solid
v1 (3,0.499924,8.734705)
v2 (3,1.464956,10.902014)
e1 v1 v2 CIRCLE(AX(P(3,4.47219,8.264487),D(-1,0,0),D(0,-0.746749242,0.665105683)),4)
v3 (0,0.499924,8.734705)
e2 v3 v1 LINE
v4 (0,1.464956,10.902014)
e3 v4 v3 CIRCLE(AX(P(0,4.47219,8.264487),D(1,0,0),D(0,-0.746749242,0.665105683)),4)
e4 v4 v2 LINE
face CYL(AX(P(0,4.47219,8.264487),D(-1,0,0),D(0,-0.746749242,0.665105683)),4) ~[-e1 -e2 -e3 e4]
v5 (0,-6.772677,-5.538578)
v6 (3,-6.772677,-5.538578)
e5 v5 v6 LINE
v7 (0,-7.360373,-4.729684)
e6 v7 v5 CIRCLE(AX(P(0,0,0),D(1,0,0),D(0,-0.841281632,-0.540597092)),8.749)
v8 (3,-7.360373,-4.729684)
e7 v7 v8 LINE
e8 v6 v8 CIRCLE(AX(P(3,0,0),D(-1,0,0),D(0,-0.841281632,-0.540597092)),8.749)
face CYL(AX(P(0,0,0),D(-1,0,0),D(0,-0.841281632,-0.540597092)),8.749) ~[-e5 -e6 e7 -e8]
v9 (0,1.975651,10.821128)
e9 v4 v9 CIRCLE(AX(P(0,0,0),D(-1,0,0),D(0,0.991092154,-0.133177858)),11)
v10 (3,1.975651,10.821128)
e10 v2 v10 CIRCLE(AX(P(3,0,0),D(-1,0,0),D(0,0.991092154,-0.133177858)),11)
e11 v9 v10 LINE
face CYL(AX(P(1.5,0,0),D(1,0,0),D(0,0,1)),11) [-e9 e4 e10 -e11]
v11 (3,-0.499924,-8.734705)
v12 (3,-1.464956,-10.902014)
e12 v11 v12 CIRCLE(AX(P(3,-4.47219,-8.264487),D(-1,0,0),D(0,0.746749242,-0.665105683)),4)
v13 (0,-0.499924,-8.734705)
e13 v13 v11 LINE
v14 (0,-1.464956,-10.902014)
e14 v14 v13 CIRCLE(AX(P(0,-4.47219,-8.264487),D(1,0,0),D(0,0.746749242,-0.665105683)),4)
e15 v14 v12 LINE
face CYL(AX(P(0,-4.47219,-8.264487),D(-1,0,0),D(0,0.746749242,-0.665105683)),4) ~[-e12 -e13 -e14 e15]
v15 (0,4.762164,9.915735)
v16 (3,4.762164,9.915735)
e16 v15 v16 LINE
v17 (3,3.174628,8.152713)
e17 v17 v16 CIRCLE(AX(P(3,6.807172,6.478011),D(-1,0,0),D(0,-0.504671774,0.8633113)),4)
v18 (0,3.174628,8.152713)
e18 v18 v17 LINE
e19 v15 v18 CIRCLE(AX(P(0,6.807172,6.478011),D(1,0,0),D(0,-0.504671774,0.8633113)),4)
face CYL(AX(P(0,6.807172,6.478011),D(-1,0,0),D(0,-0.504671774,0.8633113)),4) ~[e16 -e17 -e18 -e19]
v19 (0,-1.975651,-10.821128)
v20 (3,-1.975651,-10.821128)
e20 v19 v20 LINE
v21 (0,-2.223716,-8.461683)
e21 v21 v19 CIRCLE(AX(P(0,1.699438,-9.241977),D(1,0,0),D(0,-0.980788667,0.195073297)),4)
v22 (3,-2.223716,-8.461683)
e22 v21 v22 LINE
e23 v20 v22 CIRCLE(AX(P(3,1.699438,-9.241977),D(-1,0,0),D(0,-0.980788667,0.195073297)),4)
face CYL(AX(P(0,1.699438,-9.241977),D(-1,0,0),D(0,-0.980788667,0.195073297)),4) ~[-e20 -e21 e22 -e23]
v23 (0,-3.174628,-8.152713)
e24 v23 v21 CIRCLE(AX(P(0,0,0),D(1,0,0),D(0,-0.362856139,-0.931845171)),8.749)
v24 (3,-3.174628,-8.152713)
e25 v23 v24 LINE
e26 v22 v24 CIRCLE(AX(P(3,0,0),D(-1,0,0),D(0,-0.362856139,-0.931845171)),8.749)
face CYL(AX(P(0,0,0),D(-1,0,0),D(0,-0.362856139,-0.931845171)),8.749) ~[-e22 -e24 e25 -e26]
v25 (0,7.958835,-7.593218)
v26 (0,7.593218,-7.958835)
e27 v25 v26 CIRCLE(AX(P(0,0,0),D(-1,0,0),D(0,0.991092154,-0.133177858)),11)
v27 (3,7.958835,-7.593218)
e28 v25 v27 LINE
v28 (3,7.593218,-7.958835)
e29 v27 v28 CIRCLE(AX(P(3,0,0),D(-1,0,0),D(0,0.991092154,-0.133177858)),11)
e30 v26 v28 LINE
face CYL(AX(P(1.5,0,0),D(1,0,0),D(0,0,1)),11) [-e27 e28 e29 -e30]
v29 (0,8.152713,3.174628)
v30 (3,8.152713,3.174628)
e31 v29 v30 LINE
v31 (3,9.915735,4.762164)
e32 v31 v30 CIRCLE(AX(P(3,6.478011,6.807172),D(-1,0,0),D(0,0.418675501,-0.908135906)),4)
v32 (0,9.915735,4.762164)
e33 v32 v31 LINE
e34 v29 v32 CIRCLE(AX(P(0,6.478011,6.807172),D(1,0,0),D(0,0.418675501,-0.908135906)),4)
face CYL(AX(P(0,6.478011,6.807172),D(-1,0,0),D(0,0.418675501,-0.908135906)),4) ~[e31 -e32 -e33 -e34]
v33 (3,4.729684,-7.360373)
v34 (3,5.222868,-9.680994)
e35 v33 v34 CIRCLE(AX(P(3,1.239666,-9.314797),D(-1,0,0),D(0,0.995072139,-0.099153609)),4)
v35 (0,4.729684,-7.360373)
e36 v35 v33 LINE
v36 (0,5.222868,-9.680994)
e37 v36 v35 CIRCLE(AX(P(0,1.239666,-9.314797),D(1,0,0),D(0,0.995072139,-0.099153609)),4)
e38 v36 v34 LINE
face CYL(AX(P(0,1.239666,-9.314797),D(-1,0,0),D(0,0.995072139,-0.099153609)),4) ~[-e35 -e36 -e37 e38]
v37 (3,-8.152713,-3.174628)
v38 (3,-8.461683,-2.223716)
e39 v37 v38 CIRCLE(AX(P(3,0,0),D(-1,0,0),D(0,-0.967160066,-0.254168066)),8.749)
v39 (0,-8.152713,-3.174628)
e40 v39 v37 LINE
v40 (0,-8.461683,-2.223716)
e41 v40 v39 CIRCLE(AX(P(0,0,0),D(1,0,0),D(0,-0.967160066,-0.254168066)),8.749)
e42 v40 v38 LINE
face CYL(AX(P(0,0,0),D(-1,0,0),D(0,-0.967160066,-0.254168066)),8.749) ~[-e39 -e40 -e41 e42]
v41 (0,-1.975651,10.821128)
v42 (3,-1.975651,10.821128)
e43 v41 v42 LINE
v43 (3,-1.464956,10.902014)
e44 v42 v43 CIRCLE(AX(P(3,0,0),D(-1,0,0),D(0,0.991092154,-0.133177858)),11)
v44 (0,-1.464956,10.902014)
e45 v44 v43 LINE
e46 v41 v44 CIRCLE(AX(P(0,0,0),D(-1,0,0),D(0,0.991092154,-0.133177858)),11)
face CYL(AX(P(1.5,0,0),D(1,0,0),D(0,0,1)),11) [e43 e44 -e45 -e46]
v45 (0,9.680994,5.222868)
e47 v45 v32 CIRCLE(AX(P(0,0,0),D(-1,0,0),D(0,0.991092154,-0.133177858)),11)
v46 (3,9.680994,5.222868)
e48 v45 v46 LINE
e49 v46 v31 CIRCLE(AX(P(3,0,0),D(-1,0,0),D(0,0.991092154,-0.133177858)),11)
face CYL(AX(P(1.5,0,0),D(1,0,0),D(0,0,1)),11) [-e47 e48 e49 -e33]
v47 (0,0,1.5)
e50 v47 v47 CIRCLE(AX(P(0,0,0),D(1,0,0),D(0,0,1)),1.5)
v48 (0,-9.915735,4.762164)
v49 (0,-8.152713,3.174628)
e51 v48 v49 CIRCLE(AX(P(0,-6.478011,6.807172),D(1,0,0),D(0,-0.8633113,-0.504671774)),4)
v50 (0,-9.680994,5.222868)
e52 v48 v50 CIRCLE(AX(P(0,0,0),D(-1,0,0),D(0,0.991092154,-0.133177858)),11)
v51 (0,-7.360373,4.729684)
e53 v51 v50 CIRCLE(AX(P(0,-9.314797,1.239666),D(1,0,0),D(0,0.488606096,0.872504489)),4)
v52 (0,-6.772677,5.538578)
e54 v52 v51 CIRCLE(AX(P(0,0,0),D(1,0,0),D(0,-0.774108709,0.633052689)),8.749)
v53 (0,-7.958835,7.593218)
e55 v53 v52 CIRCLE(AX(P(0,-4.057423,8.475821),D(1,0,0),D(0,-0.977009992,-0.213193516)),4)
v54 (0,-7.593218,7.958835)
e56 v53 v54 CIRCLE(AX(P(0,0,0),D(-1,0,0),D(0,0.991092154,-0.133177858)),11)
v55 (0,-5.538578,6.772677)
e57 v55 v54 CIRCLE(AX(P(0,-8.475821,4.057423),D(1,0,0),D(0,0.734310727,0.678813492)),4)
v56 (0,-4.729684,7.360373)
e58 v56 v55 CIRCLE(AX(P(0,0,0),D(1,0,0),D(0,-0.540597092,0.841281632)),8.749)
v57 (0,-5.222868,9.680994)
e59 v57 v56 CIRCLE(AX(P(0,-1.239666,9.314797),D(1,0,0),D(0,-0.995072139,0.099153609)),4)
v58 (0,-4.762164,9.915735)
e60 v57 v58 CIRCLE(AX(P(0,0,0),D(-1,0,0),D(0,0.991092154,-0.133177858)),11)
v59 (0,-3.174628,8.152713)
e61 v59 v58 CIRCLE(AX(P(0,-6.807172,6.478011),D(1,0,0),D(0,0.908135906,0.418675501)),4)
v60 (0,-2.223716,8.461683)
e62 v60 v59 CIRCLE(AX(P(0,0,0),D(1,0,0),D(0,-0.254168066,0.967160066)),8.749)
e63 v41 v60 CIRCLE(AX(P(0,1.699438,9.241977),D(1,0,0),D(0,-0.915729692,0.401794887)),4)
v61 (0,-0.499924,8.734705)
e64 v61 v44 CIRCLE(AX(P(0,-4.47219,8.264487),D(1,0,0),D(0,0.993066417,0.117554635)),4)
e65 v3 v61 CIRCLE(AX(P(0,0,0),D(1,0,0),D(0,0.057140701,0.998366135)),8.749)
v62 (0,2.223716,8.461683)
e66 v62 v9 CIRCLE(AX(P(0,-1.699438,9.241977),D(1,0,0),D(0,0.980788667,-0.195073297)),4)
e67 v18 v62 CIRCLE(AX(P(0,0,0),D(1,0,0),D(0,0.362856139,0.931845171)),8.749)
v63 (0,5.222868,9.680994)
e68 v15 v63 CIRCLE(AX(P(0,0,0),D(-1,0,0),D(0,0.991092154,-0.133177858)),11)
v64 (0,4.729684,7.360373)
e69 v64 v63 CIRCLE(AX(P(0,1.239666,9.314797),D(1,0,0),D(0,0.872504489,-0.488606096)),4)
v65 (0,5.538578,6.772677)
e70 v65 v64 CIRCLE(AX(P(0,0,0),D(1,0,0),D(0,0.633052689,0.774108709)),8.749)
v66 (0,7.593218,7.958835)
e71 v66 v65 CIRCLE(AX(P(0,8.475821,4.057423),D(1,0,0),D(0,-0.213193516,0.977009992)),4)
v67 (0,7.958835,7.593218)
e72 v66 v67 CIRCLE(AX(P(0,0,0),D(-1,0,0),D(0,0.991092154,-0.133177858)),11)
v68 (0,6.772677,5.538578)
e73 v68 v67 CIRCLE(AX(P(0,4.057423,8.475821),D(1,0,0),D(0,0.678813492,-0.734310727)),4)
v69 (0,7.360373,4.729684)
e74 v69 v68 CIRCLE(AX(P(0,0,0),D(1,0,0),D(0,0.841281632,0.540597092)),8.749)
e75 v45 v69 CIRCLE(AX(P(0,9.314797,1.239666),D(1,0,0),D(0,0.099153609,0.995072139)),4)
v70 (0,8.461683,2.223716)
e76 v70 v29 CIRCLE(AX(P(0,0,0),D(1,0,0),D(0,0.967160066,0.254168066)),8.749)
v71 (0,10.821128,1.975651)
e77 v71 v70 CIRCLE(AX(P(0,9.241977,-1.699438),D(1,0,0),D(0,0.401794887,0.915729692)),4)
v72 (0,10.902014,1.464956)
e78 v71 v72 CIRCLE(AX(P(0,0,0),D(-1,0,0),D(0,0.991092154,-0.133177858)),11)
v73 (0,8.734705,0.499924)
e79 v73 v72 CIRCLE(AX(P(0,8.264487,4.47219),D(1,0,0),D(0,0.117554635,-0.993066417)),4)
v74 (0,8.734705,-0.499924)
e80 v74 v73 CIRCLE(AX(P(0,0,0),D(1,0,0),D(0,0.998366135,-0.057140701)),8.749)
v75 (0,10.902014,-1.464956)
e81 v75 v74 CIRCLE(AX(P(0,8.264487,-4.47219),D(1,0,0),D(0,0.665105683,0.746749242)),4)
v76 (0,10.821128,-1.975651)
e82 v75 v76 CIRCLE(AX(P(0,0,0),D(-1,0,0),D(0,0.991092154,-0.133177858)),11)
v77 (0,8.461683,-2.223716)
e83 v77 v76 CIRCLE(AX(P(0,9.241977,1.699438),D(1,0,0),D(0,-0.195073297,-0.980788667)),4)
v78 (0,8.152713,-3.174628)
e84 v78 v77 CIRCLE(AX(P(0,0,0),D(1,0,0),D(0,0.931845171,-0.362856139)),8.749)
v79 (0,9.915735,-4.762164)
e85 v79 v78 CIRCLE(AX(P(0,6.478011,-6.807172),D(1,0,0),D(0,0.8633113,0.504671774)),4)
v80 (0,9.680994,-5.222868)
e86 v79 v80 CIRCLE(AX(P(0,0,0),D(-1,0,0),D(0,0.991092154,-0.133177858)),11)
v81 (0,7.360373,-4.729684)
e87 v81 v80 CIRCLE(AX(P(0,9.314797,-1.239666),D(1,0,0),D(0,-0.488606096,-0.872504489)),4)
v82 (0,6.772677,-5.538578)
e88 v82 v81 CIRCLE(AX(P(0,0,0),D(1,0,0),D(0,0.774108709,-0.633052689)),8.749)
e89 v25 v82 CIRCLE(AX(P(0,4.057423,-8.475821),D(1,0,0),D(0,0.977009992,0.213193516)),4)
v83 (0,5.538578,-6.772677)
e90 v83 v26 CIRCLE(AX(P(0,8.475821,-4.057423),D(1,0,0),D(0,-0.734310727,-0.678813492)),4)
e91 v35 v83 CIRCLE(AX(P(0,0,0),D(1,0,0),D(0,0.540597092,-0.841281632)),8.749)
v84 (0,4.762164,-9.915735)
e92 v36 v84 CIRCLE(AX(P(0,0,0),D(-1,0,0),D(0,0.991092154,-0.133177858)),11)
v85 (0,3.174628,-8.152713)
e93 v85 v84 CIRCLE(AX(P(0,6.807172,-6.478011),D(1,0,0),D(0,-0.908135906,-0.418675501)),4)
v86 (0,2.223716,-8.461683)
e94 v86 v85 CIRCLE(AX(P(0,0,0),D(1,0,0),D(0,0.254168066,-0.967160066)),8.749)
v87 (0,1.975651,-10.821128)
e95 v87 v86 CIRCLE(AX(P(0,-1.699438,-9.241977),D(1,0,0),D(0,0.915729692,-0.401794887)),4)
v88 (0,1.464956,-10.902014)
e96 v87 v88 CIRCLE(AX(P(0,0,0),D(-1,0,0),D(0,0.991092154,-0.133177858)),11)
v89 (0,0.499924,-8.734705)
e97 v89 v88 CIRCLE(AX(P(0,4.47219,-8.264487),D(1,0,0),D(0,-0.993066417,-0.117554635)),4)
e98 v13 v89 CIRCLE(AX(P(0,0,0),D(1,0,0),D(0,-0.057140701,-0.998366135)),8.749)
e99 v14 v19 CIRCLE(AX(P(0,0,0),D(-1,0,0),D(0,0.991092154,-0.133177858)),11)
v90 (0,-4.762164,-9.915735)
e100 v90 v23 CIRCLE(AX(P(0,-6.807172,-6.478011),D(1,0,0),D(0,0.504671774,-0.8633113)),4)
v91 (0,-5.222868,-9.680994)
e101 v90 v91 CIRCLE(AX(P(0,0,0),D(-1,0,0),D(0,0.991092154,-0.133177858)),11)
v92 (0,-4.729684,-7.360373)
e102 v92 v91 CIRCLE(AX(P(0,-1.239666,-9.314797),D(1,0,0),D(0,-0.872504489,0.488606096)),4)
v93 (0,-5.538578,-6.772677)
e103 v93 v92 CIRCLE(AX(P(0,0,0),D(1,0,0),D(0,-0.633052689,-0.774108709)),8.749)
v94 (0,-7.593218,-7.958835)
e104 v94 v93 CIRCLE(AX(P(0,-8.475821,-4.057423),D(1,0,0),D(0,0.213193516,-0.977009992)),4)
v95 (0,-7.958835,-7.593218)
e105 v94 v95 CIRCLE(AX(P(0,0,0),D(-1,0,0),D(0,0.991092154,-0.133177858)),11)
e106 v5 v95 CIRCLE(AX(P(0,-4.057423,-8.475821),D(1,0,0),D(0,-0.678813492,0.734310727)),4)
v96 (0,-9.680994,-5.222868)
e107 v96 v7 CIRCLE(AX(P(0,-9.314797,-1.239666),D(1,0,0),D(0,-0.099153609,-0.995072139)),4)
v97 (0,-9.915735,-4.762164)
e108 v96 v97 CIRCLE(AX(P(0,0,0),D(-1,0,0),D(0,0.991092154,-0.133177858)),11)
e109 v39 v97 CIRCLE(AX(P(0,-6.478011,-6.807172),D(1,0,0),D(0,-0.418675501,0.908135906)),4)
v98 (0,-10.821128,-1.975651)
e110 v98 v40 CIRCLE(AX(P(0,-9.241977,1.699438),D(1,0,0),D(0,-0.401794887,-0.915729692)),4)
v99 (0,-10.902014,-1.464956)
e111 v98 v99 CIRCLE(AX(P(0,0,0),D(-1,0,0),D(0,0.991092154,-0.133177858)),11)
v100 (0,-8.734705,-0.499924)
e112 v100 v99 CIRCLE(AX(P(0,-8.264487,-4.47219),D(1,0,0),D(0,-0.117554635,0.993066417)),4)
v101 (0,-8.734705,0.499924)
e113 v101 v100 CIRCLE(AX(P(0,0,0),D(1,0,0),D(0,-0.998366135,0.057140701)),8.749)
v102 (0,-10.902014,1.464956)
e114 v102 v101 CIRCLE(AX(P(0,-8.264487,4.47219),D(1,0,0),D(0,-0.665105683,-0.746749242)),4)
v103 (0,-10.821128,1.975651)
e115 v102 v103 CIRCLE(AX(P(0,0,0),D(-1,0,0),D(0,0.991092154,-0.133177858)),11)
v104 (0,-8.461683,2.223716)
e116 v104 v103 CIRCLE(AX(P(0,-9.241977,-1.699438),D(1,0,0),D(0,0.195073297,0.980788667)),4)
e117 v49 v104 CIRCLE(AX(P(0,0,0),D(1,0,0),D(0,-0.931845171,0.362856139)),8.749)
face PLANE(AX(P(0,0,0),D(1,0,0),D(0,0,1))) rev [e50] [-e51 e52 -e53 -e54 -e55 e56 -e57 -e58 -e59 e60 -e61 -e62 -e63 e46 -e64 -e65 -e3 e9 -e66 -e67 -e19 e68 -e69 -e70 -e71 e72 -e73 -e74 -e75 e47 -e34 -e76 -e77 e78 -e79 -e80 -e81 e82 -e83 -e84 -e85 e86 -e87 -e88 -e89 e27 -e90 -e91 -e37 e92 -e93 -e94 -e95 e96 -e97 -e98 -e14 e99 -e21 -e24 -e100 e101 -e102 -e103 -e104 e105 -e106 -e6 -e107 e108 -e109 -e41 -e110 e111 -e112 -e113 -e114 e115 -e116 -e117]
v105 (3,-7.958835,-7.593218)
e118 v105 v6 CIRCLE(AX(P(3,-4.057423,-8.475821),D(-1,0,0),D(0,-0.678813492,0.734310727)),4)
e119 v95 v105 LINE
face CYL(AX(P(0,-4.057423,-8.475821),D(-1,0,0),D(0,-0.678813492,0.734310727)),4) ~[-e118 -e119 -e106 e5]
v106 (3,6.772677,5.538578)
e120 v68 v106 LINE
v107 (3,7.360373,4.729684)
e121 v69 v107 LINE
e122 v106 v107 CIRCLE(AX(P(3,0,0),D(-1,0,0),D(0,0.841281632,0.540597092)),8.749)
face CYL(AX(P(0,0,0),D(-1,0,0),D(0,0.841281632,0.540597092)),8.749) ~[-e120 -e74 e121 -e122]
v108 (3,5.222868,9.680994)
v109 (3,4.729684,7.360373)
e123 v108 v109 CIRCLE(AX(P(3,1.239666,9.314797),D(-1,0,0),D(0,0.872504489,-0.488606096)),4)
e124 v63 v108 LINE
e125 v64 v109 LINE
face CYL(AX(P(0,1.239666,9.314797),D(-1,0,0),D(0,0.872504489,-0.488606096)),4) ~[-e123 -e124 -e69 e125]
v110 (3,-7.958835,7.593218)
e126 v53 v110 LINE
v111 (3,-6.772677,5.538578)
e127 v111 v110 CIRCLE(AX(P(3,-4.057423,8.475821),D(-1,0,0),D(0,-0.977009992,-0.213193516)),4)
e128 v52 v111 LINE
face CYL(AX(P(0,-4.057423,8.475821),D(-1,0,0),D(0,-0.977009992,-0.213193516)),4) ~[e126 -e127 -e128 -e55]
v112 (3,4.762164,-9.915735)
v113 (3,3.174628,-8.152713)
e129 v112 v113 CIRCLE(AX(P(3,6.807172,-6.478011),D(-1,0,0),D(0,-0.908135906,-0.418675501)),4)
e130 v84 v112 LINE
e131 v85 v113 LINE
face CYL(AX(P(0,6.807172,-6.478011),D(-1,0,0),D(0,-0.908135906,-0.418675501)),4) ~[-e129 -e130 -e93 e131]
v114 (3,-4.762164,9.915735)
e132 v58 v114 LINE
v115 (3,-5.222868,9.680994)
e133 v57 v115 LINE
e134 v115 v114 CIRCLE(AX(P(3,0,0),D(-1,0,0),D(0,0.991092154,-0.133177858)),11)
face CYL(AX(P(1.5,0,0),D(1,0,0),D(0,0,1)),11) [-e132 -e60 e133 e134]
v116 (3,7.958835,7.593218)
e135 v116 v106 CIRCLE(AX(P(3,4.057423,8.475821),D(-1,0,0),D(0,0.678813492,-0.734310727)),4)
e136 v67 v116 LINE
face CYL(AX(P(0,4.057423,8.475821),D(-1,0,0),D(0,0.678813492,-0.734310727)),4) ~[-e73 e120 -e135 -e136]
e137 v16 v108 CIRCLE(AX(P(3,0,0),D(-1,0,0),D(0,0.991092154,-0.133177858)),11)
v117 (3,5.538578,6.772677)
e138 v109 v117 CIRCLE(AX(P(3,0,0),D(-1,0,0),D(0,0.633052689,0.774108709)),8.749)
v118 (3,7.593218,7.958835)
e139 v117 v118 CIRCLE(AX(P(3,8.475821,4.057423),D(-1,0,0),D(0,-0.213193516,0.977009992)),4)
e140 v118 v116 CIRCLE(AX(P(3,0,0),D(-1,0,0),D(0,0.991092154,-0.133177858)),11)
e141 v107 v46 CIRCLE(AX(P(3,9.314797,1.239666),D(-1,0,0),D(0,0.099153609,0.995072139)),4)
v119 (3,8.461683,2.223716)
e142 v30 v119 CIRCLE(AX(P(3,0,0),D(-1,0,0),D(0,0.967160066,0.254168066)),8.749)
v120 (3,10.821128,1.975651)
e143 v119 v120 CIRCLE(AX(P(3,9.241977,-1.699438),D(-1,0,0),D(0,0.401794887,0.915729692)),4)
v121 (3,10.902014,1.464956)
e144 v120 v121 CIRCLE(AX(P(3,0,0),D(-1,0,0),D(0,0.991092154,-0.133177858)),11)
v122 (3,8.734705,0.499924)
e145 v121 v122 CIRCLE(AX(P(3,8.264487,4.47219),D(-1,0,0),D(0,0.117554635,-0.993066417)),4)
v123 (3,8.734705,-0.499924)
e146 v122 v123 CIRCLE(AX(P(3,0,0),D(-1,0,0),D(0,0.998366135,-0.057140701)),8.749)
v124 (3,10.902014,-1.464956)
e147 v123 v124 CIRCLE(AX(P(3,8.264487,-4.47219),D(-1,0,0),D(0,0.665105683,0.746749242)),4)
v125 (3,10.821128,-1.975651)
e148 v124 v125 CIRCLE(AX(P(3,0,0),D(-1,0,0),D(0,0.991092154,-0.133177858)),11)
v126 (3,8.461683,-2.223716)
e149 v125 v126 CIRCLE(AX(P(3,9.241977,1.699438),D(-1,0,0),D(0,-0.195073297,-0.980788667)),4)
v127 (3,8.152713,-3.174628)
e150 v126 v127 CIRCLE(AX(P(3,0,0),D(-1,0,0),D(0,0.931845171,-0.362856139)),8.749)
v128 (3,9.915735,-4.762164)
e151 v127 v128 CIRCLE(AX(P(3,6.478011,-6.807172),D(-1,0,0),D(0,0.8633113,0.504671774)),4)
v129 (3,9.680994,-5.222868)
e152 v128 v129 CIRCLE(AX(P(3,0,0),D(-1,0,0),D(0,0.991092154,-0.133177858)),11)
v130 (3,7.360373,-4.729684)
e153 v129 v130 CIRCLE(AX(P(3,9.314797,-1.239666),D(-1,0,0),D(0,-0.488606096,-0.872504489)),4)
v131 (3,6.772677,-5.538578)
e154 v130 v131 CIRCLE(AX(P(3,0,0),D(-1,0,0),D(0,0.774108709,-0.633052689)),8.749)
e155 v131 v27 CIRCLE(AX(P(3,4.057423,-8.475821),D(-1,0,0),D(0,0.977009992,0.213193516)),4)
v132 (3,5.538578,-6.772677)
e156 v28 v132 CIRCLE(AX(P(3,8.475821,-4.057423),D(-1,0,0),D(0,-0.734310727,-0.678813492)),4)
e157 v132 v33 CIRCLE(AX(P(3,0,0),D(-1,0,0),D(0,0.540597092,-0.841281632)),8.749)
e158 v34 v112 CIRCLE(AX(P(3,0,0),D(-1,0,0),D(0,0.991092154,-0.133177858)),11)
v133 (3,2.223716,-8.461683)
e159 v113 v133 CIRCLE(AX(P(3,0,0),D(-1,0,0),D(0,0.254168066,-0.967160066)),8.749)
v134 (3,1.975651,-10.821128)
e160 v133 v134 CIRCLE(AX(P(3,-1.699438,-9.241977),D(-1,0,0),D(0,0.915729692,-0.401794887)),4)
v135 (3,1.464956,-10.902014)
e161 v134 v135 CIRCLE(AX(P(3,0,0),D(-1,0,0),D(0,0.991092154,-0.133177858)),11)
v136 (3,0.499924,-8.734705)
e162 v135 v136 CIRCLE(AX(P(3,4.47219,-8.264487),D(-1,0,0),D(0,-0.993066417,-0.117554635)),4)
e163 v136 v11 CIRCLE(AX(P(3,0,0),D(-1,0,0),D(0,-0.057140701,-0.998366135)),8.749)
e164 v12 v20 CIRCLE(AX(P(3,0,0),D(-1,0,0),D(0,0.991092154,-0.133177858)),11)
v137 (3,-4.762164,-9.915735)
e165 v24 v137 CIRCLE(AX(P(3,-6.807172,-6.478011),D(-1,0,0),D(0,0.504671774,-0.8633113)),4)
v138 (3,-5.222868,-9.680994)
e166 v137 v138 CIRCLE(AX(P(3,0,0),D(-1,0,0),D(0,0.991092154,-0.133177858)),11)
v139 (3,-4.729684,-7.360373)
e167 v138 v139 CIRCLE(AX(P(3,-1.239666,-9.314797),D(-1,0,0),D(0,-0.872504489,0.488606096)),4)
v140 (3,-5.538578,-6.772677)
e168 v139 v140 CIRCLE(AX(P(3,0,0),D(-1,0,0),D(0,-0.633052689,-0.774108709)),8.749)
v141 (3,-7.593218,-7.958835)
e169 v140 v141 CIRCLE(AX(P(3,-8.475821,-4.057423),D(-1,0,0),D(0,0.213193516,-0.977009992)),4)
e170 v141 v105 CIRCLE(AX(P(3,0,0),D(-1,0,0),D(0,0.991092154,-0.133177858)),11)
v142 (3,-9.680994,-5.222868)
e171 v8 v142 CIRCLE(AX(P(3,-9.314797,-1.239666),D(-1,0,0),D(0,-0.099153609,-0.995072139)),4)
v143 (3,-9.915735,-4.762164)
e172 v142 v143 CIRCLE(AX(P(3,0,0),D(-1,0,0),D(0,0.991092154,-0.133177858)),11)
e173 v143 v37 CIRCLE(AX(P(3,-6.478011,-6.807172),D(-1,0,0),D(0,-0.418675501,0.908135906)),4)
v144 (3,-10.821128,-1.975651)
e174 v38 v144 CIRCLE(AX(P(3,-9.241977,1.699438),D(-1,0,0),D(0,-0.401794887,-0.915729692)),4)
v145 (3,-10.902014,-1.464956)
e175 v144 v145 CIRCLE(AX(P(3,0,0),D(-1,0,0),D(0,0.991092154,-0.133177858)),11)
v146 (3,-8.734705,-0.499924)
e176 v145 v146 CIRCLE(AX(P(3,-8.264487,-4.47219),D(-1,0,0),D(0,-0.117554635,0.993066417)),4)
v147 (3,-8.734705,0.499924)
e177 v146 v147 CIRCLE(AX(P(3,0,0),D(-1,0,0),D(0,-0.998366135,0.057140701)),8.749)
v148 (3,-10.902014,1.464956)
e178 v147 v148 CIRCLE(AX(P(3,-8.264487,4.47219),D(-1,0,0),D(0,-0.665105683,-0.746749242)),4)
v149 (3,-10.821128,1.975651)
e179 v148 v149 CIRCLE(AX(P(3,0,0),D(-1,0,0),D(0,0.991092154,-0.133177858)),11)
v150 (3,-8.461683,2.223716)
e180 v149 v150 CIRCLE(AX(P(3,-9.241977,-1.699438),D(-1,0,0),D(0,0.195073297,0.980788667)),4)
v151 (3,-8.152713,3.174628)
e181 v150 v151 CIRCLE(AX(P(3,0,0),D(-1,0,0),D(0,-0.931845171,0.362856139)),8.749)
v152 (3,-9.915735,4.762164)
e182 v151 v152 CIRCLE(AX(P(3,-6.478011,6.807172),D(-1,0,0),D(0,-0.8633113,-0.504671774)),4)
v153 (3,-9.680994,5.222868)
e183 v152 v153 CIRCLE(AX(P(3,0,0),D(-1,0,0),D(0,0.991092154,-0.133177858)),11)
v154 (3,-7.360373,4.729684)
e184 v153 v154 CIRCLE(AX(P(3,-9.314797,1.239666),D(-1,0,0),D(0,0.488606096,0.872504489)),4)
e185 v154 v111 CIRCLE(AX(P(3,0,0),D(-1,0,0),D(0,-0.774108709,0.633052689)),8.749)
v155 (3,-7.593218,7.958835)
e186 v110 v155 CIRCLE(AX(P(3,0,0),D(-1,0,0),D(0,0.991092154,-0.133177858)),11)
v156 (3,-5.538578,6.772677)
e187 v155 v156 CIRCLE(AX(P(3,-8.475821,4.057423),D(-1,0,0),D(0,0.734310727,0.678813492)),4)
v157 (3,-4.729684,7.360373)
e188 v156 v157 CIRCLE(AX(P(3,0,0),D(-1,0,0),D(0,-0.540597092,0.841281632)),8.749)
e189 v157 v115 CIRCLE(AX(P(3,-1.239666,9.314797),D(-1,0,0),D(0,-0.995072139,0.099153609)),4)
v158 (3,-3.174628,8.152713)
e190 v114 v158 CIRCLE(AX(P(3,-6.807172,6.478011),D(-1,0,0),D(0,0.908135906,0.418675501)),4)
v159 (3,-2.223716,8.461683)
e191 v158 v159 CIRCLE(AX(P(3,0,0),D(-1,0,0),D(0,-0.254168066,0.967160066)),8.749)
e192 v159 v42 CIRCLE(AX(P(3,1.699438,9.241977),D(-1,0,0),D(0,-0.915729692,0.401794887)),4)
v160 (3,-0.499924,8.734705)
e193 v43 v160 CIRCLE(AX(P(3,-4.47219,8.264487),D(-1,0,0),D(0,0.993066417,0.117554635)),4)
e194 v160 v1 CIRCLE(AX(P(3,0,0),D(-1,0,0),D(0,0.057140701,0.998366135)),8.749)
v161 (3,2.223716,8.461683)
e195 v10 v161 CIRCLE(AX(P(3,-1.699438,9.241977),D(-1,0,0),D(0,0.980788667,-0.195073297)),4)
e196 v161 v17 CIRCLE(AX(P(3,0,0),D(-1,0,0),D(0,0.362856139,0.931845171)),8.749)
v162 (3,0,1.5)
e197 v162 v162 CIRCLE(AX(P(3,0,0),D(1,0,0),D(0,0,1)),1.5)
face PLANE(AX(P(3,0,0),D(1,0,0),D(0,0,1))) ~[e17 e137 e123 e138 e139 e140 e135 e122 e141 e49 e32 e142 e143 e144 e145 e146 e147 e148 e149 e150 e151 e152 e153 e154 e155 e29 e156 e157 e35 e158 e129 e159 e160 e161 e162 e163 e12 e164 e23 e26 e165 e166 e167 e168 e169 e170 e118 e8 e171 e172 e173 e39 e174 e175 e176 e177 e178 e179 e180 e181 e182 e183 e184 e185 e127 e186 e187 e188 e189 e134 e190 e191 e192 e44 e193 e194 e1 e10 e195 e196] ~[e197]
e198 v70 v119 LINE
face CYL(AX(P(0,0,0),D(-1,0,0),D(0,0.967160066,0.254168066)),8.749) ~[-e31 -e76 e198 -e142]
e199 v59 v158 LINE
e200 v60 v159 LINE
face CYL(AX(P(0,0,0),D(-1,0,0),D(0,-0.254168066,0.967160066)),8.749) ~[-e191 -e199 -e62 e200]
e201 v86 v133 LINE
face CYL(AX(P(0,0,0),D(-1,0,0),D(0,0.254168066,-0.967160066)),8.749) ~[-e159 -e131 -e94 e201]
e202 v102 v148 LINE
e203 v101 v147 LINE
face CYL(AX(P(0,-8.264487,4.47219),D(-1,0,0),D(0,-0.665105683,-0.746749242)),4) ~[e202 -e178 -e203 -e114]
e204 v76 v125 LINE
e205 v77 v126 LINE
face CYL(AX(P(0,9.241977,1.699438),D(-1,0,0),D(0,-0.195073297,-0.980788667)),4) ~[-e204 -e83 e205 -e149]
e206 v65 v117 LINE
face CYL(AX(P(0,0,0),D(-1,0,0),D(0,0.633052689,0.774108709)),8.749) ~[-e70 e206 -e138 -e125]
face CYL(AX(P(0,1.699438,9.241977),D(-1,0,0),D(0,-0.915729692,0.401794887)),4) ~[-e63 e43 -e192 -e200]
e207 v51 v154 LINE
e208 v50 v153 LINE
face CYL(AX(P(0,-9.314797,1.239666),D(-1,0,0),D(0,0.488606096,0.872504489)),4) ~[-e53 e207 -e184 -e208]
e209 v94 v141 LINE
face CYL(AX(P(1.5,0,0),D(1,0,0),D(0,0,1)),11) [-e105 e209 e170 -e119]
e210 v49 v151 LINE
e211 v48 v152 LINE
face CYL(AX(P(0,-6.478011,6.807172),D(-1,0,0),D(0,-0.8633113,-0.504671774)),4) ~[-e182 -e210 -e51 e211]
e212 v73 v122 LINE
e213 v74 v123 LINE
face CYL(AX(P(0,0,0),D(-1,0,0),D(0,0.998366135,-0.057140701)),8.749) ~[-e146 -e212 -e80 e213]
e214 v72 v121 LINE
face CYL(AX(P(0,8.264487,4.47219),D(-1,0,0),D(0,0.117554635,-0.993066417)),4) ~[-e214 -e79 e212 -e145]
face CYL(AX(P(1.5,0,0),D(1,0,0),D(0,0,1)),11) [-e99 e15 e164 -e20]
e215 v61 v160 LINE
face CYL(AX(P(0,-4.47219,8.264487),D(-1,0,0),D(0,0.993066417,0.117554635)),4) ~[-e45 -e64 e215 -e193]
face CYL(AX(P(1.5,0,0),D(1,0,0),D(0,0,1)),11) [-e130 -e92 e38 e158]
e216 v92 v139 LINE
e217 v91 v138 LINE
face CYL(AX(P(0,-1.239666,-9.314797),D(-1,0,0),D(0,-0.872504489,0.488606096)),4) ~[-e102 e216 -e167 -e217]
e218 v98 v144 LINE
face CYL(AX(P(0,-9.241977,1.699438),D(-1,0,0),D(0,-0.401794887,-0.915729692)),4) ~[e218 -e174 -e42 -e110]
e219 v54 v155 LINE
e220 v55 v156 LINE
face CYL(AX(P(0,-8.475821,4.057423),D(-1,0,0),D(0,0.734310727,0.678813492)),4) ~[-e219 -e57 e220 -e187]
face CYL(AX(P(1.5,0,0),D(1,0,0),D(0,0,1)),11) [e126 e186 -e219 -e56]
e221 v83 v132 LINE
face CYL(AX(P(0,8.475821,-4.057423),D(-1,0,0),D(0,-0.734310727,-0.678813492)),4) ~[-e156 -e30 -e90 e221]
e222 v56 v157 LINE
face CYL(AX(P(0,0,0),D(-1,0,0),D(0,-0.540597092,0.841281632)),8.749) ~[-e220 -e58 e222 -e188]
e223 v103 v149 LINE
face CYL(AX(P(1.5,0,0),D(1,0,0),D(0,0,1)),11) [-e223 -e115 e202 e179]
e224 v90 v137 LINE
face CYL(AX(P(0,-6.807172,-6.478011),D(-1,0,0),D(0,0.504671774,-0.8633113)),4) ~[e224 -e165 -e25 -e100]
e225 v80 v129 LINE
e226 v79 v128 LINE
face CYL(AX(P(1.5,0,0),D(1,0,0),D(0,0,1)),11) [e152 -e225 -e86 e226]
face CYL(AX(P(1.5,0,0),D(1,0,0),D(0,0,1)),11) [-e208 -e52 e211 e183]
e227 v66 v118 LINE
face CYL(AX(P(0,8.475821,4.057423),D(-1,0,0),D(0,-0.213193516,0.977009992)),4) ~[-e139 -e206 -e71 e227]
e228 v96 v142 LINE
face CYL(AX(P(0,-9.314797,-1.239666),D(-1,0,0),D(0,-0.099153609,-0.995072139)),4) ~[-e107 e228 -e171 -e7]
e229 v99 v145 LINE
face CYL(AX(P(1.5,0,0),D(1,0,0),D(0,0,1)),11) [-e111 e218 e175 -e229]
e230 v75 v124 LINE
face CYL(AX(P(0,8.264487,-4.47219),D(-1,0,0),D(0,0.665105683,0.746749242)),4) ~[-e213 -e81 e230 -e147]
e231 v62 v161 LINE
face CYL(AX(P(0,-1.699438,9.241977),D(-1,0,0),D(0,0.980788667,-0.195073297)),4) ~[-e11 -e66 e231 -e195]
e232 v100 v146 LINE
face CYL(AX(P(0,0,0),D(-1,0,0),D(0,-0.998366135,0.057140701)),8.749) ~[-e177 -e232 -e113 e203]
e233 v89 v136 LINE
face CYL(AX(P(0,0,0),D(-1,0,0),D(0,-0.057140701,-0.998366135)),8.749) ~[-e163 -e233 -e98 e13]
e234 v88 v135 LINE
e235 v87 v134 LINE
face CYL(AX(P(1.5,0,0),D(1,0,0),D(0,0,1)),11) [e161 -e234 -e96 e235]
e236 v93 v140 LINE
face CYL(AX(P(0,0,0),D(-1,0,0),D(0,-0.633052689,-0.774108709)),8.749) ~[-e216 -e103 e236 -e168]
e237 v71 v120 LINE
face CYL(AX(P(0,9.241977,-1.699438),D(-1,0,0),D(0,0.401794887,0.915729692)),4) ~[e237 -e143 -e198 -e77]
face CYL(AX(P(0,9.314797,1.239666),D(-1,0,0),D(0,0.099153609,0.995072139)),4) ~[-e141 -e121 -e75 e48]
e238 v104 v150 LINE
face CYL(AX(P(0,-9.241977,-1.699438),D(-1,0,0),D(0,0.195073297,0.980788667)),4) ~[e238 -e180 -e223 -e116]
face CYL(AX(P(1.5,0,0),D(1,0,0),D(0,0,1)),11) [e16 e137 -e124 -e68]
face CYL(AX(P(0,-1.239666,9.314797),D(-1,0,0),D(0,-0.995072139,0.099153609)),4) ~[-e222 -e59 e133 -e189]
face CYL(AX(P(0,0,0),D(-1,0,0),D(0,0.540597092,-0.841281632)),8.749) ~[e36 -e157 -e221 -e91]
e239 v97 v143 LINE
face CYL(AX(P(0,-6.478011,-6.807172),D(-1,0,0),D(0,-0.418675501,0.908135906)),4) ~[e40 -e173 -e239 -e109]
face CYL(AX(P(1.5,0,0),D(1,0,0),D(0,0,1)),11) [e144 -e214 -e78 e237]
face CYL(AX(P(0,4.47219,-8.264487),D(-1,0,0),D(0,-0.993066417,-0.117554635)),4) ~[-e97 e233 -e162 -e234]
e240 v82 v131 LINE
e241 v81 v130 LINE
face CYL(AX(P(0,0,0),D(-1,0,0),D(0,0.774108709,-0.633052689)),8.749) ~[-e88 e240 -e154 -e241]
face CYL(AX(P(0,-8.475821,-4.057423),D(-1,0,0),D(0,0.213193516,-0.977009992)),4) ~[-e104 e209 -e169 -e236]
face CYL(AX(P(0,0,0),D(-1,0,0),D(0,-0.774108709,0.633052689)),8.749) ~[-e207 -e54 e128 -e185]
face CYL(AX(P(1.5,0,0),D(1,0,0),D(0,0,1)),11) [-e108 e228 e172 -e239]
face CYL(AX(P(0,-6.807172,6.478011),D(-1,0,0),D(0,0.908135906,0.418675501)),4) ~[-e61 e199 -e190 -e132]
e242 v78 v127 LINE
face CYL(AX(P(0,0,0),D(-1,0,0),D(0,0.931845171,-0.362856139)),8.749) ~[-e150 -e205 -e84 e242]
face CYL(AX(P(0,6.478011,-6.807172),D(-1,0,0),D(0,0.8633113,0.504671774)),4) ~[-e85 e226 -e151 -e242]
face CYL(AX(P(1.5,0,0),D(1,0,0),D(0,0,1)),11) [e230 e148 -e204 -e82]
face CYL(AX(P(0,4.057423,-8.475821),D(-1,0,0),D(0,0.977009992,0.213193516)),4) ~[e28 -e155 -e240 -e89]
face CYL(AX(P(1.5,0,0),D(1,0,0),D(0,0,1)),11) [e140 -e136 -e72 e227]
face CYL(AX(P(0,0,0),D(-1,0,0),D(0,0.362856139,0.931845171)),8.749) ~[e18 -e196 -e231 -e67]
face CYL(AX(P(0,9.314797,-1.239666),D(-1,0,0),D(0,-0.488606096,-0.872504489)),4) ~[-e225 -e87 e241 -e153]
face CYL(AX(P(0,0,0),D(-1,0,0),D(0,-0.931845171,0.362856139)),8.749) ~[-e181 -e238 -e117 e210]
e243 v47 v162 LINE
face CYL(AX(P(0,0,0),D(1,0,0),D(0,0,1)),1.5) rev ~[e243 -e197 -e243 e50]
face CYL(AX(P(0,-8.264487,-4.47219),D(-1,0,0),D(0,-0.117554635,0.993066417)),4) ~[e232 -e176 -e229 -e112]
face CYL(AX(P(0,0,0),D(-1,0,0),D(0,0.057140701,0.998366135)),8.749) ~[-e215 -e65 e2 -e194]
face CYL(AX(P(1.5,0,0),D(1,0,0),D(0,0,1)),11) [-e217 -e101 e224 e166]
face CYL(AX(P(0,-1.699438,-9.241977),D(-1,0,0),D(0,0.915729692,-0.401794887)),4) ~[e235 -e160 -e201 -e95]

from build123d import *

# Parameters (mm, degrees)
BASPROSKE_W     = 3
BASPROSKE_H     = 11
TOOTHCUT_DEPTH  = 16.842979518
TEETHCUTS_COUNT = 20
TEETHCUTS_ANGLE = 342
BORSKE_R        = 1.5
BORE_DEPTH      = 50.0000508


with BuildPart() as part:
    # BasProSke → Base-Revolve (revolve)
    with BuildSketch(Plane(origin=(0, 0, 0), x_dir=(1, 0, 0), z_dir=(0, 1, 0)), mode=Mode.PRIVATE) as base_revolve_sk:
        with Locations((1.5, 5.5)):
            Rectangle(BASPROSKE_W, BASPROSKE_H)
    revolve(base_revolve_sk.sketch.rotate(Axis((-10, 0, 0), (1, 0, 0)), 180), axis=Axis((-10, 0, 0), (1, 0, 0)))

    # TooCutSke → ToothCut (cut, through all)
    with BuildSketch(Plane(origin=(0, 0, 0), x_dir=(0, 0, -1), z_dir=(1, 0, 0))):
        with BuildLine():
            ThreePointArc((0.499924007, 8.734705318), (0, 8.749), (-0.499924007, 8.734705318))
            ThreePointArc((-0.499924007, 8.734705318), (-0.824302243, 9.905497836), (-1.485192705, 10.924909509))
            ThreePointArc((-1.485192705, 10.924909509), (0, 11.0254), (1.485192705, 10.924909509))
            ThreePointArc((1.485192705, 10.924909509), (0.824302243, 9.905497836), (0.499924007, 8.734705318))
        make_face()
    toothcut = extrude(amount=TOOTHCUT_DEPTH, mode=Mode.SUBTRACT)

    # TeethCuts: ToothCut ×20 about axis
    teethcuts_axis = Axis((-10, 0, 0), (1, 0, 0))
    for i in range(1, TEETHCUTS_COUNT):
        add(toothcut.rotate(teethcuts_axis, i * TEETHCUTS_ANGLE / (TEETHCUTS_COUNT - 1)), mode=Mode.SUBTRACT)

    # BorSke → Bore (cut, symmetric)
    with BuildSketch(Plane(origin=(0, 0, 0), x_dir=(0, 0, -1), z_dir=(1, 0, 0))):
        with Locations(Location((0, 0, 0), (0, 0, 180))):
            Circle(BORSKE_R)
    extrude(amount=BORE_DEPTH, both=True, mode=Mode.SUBTRACT)


solid = part.part
